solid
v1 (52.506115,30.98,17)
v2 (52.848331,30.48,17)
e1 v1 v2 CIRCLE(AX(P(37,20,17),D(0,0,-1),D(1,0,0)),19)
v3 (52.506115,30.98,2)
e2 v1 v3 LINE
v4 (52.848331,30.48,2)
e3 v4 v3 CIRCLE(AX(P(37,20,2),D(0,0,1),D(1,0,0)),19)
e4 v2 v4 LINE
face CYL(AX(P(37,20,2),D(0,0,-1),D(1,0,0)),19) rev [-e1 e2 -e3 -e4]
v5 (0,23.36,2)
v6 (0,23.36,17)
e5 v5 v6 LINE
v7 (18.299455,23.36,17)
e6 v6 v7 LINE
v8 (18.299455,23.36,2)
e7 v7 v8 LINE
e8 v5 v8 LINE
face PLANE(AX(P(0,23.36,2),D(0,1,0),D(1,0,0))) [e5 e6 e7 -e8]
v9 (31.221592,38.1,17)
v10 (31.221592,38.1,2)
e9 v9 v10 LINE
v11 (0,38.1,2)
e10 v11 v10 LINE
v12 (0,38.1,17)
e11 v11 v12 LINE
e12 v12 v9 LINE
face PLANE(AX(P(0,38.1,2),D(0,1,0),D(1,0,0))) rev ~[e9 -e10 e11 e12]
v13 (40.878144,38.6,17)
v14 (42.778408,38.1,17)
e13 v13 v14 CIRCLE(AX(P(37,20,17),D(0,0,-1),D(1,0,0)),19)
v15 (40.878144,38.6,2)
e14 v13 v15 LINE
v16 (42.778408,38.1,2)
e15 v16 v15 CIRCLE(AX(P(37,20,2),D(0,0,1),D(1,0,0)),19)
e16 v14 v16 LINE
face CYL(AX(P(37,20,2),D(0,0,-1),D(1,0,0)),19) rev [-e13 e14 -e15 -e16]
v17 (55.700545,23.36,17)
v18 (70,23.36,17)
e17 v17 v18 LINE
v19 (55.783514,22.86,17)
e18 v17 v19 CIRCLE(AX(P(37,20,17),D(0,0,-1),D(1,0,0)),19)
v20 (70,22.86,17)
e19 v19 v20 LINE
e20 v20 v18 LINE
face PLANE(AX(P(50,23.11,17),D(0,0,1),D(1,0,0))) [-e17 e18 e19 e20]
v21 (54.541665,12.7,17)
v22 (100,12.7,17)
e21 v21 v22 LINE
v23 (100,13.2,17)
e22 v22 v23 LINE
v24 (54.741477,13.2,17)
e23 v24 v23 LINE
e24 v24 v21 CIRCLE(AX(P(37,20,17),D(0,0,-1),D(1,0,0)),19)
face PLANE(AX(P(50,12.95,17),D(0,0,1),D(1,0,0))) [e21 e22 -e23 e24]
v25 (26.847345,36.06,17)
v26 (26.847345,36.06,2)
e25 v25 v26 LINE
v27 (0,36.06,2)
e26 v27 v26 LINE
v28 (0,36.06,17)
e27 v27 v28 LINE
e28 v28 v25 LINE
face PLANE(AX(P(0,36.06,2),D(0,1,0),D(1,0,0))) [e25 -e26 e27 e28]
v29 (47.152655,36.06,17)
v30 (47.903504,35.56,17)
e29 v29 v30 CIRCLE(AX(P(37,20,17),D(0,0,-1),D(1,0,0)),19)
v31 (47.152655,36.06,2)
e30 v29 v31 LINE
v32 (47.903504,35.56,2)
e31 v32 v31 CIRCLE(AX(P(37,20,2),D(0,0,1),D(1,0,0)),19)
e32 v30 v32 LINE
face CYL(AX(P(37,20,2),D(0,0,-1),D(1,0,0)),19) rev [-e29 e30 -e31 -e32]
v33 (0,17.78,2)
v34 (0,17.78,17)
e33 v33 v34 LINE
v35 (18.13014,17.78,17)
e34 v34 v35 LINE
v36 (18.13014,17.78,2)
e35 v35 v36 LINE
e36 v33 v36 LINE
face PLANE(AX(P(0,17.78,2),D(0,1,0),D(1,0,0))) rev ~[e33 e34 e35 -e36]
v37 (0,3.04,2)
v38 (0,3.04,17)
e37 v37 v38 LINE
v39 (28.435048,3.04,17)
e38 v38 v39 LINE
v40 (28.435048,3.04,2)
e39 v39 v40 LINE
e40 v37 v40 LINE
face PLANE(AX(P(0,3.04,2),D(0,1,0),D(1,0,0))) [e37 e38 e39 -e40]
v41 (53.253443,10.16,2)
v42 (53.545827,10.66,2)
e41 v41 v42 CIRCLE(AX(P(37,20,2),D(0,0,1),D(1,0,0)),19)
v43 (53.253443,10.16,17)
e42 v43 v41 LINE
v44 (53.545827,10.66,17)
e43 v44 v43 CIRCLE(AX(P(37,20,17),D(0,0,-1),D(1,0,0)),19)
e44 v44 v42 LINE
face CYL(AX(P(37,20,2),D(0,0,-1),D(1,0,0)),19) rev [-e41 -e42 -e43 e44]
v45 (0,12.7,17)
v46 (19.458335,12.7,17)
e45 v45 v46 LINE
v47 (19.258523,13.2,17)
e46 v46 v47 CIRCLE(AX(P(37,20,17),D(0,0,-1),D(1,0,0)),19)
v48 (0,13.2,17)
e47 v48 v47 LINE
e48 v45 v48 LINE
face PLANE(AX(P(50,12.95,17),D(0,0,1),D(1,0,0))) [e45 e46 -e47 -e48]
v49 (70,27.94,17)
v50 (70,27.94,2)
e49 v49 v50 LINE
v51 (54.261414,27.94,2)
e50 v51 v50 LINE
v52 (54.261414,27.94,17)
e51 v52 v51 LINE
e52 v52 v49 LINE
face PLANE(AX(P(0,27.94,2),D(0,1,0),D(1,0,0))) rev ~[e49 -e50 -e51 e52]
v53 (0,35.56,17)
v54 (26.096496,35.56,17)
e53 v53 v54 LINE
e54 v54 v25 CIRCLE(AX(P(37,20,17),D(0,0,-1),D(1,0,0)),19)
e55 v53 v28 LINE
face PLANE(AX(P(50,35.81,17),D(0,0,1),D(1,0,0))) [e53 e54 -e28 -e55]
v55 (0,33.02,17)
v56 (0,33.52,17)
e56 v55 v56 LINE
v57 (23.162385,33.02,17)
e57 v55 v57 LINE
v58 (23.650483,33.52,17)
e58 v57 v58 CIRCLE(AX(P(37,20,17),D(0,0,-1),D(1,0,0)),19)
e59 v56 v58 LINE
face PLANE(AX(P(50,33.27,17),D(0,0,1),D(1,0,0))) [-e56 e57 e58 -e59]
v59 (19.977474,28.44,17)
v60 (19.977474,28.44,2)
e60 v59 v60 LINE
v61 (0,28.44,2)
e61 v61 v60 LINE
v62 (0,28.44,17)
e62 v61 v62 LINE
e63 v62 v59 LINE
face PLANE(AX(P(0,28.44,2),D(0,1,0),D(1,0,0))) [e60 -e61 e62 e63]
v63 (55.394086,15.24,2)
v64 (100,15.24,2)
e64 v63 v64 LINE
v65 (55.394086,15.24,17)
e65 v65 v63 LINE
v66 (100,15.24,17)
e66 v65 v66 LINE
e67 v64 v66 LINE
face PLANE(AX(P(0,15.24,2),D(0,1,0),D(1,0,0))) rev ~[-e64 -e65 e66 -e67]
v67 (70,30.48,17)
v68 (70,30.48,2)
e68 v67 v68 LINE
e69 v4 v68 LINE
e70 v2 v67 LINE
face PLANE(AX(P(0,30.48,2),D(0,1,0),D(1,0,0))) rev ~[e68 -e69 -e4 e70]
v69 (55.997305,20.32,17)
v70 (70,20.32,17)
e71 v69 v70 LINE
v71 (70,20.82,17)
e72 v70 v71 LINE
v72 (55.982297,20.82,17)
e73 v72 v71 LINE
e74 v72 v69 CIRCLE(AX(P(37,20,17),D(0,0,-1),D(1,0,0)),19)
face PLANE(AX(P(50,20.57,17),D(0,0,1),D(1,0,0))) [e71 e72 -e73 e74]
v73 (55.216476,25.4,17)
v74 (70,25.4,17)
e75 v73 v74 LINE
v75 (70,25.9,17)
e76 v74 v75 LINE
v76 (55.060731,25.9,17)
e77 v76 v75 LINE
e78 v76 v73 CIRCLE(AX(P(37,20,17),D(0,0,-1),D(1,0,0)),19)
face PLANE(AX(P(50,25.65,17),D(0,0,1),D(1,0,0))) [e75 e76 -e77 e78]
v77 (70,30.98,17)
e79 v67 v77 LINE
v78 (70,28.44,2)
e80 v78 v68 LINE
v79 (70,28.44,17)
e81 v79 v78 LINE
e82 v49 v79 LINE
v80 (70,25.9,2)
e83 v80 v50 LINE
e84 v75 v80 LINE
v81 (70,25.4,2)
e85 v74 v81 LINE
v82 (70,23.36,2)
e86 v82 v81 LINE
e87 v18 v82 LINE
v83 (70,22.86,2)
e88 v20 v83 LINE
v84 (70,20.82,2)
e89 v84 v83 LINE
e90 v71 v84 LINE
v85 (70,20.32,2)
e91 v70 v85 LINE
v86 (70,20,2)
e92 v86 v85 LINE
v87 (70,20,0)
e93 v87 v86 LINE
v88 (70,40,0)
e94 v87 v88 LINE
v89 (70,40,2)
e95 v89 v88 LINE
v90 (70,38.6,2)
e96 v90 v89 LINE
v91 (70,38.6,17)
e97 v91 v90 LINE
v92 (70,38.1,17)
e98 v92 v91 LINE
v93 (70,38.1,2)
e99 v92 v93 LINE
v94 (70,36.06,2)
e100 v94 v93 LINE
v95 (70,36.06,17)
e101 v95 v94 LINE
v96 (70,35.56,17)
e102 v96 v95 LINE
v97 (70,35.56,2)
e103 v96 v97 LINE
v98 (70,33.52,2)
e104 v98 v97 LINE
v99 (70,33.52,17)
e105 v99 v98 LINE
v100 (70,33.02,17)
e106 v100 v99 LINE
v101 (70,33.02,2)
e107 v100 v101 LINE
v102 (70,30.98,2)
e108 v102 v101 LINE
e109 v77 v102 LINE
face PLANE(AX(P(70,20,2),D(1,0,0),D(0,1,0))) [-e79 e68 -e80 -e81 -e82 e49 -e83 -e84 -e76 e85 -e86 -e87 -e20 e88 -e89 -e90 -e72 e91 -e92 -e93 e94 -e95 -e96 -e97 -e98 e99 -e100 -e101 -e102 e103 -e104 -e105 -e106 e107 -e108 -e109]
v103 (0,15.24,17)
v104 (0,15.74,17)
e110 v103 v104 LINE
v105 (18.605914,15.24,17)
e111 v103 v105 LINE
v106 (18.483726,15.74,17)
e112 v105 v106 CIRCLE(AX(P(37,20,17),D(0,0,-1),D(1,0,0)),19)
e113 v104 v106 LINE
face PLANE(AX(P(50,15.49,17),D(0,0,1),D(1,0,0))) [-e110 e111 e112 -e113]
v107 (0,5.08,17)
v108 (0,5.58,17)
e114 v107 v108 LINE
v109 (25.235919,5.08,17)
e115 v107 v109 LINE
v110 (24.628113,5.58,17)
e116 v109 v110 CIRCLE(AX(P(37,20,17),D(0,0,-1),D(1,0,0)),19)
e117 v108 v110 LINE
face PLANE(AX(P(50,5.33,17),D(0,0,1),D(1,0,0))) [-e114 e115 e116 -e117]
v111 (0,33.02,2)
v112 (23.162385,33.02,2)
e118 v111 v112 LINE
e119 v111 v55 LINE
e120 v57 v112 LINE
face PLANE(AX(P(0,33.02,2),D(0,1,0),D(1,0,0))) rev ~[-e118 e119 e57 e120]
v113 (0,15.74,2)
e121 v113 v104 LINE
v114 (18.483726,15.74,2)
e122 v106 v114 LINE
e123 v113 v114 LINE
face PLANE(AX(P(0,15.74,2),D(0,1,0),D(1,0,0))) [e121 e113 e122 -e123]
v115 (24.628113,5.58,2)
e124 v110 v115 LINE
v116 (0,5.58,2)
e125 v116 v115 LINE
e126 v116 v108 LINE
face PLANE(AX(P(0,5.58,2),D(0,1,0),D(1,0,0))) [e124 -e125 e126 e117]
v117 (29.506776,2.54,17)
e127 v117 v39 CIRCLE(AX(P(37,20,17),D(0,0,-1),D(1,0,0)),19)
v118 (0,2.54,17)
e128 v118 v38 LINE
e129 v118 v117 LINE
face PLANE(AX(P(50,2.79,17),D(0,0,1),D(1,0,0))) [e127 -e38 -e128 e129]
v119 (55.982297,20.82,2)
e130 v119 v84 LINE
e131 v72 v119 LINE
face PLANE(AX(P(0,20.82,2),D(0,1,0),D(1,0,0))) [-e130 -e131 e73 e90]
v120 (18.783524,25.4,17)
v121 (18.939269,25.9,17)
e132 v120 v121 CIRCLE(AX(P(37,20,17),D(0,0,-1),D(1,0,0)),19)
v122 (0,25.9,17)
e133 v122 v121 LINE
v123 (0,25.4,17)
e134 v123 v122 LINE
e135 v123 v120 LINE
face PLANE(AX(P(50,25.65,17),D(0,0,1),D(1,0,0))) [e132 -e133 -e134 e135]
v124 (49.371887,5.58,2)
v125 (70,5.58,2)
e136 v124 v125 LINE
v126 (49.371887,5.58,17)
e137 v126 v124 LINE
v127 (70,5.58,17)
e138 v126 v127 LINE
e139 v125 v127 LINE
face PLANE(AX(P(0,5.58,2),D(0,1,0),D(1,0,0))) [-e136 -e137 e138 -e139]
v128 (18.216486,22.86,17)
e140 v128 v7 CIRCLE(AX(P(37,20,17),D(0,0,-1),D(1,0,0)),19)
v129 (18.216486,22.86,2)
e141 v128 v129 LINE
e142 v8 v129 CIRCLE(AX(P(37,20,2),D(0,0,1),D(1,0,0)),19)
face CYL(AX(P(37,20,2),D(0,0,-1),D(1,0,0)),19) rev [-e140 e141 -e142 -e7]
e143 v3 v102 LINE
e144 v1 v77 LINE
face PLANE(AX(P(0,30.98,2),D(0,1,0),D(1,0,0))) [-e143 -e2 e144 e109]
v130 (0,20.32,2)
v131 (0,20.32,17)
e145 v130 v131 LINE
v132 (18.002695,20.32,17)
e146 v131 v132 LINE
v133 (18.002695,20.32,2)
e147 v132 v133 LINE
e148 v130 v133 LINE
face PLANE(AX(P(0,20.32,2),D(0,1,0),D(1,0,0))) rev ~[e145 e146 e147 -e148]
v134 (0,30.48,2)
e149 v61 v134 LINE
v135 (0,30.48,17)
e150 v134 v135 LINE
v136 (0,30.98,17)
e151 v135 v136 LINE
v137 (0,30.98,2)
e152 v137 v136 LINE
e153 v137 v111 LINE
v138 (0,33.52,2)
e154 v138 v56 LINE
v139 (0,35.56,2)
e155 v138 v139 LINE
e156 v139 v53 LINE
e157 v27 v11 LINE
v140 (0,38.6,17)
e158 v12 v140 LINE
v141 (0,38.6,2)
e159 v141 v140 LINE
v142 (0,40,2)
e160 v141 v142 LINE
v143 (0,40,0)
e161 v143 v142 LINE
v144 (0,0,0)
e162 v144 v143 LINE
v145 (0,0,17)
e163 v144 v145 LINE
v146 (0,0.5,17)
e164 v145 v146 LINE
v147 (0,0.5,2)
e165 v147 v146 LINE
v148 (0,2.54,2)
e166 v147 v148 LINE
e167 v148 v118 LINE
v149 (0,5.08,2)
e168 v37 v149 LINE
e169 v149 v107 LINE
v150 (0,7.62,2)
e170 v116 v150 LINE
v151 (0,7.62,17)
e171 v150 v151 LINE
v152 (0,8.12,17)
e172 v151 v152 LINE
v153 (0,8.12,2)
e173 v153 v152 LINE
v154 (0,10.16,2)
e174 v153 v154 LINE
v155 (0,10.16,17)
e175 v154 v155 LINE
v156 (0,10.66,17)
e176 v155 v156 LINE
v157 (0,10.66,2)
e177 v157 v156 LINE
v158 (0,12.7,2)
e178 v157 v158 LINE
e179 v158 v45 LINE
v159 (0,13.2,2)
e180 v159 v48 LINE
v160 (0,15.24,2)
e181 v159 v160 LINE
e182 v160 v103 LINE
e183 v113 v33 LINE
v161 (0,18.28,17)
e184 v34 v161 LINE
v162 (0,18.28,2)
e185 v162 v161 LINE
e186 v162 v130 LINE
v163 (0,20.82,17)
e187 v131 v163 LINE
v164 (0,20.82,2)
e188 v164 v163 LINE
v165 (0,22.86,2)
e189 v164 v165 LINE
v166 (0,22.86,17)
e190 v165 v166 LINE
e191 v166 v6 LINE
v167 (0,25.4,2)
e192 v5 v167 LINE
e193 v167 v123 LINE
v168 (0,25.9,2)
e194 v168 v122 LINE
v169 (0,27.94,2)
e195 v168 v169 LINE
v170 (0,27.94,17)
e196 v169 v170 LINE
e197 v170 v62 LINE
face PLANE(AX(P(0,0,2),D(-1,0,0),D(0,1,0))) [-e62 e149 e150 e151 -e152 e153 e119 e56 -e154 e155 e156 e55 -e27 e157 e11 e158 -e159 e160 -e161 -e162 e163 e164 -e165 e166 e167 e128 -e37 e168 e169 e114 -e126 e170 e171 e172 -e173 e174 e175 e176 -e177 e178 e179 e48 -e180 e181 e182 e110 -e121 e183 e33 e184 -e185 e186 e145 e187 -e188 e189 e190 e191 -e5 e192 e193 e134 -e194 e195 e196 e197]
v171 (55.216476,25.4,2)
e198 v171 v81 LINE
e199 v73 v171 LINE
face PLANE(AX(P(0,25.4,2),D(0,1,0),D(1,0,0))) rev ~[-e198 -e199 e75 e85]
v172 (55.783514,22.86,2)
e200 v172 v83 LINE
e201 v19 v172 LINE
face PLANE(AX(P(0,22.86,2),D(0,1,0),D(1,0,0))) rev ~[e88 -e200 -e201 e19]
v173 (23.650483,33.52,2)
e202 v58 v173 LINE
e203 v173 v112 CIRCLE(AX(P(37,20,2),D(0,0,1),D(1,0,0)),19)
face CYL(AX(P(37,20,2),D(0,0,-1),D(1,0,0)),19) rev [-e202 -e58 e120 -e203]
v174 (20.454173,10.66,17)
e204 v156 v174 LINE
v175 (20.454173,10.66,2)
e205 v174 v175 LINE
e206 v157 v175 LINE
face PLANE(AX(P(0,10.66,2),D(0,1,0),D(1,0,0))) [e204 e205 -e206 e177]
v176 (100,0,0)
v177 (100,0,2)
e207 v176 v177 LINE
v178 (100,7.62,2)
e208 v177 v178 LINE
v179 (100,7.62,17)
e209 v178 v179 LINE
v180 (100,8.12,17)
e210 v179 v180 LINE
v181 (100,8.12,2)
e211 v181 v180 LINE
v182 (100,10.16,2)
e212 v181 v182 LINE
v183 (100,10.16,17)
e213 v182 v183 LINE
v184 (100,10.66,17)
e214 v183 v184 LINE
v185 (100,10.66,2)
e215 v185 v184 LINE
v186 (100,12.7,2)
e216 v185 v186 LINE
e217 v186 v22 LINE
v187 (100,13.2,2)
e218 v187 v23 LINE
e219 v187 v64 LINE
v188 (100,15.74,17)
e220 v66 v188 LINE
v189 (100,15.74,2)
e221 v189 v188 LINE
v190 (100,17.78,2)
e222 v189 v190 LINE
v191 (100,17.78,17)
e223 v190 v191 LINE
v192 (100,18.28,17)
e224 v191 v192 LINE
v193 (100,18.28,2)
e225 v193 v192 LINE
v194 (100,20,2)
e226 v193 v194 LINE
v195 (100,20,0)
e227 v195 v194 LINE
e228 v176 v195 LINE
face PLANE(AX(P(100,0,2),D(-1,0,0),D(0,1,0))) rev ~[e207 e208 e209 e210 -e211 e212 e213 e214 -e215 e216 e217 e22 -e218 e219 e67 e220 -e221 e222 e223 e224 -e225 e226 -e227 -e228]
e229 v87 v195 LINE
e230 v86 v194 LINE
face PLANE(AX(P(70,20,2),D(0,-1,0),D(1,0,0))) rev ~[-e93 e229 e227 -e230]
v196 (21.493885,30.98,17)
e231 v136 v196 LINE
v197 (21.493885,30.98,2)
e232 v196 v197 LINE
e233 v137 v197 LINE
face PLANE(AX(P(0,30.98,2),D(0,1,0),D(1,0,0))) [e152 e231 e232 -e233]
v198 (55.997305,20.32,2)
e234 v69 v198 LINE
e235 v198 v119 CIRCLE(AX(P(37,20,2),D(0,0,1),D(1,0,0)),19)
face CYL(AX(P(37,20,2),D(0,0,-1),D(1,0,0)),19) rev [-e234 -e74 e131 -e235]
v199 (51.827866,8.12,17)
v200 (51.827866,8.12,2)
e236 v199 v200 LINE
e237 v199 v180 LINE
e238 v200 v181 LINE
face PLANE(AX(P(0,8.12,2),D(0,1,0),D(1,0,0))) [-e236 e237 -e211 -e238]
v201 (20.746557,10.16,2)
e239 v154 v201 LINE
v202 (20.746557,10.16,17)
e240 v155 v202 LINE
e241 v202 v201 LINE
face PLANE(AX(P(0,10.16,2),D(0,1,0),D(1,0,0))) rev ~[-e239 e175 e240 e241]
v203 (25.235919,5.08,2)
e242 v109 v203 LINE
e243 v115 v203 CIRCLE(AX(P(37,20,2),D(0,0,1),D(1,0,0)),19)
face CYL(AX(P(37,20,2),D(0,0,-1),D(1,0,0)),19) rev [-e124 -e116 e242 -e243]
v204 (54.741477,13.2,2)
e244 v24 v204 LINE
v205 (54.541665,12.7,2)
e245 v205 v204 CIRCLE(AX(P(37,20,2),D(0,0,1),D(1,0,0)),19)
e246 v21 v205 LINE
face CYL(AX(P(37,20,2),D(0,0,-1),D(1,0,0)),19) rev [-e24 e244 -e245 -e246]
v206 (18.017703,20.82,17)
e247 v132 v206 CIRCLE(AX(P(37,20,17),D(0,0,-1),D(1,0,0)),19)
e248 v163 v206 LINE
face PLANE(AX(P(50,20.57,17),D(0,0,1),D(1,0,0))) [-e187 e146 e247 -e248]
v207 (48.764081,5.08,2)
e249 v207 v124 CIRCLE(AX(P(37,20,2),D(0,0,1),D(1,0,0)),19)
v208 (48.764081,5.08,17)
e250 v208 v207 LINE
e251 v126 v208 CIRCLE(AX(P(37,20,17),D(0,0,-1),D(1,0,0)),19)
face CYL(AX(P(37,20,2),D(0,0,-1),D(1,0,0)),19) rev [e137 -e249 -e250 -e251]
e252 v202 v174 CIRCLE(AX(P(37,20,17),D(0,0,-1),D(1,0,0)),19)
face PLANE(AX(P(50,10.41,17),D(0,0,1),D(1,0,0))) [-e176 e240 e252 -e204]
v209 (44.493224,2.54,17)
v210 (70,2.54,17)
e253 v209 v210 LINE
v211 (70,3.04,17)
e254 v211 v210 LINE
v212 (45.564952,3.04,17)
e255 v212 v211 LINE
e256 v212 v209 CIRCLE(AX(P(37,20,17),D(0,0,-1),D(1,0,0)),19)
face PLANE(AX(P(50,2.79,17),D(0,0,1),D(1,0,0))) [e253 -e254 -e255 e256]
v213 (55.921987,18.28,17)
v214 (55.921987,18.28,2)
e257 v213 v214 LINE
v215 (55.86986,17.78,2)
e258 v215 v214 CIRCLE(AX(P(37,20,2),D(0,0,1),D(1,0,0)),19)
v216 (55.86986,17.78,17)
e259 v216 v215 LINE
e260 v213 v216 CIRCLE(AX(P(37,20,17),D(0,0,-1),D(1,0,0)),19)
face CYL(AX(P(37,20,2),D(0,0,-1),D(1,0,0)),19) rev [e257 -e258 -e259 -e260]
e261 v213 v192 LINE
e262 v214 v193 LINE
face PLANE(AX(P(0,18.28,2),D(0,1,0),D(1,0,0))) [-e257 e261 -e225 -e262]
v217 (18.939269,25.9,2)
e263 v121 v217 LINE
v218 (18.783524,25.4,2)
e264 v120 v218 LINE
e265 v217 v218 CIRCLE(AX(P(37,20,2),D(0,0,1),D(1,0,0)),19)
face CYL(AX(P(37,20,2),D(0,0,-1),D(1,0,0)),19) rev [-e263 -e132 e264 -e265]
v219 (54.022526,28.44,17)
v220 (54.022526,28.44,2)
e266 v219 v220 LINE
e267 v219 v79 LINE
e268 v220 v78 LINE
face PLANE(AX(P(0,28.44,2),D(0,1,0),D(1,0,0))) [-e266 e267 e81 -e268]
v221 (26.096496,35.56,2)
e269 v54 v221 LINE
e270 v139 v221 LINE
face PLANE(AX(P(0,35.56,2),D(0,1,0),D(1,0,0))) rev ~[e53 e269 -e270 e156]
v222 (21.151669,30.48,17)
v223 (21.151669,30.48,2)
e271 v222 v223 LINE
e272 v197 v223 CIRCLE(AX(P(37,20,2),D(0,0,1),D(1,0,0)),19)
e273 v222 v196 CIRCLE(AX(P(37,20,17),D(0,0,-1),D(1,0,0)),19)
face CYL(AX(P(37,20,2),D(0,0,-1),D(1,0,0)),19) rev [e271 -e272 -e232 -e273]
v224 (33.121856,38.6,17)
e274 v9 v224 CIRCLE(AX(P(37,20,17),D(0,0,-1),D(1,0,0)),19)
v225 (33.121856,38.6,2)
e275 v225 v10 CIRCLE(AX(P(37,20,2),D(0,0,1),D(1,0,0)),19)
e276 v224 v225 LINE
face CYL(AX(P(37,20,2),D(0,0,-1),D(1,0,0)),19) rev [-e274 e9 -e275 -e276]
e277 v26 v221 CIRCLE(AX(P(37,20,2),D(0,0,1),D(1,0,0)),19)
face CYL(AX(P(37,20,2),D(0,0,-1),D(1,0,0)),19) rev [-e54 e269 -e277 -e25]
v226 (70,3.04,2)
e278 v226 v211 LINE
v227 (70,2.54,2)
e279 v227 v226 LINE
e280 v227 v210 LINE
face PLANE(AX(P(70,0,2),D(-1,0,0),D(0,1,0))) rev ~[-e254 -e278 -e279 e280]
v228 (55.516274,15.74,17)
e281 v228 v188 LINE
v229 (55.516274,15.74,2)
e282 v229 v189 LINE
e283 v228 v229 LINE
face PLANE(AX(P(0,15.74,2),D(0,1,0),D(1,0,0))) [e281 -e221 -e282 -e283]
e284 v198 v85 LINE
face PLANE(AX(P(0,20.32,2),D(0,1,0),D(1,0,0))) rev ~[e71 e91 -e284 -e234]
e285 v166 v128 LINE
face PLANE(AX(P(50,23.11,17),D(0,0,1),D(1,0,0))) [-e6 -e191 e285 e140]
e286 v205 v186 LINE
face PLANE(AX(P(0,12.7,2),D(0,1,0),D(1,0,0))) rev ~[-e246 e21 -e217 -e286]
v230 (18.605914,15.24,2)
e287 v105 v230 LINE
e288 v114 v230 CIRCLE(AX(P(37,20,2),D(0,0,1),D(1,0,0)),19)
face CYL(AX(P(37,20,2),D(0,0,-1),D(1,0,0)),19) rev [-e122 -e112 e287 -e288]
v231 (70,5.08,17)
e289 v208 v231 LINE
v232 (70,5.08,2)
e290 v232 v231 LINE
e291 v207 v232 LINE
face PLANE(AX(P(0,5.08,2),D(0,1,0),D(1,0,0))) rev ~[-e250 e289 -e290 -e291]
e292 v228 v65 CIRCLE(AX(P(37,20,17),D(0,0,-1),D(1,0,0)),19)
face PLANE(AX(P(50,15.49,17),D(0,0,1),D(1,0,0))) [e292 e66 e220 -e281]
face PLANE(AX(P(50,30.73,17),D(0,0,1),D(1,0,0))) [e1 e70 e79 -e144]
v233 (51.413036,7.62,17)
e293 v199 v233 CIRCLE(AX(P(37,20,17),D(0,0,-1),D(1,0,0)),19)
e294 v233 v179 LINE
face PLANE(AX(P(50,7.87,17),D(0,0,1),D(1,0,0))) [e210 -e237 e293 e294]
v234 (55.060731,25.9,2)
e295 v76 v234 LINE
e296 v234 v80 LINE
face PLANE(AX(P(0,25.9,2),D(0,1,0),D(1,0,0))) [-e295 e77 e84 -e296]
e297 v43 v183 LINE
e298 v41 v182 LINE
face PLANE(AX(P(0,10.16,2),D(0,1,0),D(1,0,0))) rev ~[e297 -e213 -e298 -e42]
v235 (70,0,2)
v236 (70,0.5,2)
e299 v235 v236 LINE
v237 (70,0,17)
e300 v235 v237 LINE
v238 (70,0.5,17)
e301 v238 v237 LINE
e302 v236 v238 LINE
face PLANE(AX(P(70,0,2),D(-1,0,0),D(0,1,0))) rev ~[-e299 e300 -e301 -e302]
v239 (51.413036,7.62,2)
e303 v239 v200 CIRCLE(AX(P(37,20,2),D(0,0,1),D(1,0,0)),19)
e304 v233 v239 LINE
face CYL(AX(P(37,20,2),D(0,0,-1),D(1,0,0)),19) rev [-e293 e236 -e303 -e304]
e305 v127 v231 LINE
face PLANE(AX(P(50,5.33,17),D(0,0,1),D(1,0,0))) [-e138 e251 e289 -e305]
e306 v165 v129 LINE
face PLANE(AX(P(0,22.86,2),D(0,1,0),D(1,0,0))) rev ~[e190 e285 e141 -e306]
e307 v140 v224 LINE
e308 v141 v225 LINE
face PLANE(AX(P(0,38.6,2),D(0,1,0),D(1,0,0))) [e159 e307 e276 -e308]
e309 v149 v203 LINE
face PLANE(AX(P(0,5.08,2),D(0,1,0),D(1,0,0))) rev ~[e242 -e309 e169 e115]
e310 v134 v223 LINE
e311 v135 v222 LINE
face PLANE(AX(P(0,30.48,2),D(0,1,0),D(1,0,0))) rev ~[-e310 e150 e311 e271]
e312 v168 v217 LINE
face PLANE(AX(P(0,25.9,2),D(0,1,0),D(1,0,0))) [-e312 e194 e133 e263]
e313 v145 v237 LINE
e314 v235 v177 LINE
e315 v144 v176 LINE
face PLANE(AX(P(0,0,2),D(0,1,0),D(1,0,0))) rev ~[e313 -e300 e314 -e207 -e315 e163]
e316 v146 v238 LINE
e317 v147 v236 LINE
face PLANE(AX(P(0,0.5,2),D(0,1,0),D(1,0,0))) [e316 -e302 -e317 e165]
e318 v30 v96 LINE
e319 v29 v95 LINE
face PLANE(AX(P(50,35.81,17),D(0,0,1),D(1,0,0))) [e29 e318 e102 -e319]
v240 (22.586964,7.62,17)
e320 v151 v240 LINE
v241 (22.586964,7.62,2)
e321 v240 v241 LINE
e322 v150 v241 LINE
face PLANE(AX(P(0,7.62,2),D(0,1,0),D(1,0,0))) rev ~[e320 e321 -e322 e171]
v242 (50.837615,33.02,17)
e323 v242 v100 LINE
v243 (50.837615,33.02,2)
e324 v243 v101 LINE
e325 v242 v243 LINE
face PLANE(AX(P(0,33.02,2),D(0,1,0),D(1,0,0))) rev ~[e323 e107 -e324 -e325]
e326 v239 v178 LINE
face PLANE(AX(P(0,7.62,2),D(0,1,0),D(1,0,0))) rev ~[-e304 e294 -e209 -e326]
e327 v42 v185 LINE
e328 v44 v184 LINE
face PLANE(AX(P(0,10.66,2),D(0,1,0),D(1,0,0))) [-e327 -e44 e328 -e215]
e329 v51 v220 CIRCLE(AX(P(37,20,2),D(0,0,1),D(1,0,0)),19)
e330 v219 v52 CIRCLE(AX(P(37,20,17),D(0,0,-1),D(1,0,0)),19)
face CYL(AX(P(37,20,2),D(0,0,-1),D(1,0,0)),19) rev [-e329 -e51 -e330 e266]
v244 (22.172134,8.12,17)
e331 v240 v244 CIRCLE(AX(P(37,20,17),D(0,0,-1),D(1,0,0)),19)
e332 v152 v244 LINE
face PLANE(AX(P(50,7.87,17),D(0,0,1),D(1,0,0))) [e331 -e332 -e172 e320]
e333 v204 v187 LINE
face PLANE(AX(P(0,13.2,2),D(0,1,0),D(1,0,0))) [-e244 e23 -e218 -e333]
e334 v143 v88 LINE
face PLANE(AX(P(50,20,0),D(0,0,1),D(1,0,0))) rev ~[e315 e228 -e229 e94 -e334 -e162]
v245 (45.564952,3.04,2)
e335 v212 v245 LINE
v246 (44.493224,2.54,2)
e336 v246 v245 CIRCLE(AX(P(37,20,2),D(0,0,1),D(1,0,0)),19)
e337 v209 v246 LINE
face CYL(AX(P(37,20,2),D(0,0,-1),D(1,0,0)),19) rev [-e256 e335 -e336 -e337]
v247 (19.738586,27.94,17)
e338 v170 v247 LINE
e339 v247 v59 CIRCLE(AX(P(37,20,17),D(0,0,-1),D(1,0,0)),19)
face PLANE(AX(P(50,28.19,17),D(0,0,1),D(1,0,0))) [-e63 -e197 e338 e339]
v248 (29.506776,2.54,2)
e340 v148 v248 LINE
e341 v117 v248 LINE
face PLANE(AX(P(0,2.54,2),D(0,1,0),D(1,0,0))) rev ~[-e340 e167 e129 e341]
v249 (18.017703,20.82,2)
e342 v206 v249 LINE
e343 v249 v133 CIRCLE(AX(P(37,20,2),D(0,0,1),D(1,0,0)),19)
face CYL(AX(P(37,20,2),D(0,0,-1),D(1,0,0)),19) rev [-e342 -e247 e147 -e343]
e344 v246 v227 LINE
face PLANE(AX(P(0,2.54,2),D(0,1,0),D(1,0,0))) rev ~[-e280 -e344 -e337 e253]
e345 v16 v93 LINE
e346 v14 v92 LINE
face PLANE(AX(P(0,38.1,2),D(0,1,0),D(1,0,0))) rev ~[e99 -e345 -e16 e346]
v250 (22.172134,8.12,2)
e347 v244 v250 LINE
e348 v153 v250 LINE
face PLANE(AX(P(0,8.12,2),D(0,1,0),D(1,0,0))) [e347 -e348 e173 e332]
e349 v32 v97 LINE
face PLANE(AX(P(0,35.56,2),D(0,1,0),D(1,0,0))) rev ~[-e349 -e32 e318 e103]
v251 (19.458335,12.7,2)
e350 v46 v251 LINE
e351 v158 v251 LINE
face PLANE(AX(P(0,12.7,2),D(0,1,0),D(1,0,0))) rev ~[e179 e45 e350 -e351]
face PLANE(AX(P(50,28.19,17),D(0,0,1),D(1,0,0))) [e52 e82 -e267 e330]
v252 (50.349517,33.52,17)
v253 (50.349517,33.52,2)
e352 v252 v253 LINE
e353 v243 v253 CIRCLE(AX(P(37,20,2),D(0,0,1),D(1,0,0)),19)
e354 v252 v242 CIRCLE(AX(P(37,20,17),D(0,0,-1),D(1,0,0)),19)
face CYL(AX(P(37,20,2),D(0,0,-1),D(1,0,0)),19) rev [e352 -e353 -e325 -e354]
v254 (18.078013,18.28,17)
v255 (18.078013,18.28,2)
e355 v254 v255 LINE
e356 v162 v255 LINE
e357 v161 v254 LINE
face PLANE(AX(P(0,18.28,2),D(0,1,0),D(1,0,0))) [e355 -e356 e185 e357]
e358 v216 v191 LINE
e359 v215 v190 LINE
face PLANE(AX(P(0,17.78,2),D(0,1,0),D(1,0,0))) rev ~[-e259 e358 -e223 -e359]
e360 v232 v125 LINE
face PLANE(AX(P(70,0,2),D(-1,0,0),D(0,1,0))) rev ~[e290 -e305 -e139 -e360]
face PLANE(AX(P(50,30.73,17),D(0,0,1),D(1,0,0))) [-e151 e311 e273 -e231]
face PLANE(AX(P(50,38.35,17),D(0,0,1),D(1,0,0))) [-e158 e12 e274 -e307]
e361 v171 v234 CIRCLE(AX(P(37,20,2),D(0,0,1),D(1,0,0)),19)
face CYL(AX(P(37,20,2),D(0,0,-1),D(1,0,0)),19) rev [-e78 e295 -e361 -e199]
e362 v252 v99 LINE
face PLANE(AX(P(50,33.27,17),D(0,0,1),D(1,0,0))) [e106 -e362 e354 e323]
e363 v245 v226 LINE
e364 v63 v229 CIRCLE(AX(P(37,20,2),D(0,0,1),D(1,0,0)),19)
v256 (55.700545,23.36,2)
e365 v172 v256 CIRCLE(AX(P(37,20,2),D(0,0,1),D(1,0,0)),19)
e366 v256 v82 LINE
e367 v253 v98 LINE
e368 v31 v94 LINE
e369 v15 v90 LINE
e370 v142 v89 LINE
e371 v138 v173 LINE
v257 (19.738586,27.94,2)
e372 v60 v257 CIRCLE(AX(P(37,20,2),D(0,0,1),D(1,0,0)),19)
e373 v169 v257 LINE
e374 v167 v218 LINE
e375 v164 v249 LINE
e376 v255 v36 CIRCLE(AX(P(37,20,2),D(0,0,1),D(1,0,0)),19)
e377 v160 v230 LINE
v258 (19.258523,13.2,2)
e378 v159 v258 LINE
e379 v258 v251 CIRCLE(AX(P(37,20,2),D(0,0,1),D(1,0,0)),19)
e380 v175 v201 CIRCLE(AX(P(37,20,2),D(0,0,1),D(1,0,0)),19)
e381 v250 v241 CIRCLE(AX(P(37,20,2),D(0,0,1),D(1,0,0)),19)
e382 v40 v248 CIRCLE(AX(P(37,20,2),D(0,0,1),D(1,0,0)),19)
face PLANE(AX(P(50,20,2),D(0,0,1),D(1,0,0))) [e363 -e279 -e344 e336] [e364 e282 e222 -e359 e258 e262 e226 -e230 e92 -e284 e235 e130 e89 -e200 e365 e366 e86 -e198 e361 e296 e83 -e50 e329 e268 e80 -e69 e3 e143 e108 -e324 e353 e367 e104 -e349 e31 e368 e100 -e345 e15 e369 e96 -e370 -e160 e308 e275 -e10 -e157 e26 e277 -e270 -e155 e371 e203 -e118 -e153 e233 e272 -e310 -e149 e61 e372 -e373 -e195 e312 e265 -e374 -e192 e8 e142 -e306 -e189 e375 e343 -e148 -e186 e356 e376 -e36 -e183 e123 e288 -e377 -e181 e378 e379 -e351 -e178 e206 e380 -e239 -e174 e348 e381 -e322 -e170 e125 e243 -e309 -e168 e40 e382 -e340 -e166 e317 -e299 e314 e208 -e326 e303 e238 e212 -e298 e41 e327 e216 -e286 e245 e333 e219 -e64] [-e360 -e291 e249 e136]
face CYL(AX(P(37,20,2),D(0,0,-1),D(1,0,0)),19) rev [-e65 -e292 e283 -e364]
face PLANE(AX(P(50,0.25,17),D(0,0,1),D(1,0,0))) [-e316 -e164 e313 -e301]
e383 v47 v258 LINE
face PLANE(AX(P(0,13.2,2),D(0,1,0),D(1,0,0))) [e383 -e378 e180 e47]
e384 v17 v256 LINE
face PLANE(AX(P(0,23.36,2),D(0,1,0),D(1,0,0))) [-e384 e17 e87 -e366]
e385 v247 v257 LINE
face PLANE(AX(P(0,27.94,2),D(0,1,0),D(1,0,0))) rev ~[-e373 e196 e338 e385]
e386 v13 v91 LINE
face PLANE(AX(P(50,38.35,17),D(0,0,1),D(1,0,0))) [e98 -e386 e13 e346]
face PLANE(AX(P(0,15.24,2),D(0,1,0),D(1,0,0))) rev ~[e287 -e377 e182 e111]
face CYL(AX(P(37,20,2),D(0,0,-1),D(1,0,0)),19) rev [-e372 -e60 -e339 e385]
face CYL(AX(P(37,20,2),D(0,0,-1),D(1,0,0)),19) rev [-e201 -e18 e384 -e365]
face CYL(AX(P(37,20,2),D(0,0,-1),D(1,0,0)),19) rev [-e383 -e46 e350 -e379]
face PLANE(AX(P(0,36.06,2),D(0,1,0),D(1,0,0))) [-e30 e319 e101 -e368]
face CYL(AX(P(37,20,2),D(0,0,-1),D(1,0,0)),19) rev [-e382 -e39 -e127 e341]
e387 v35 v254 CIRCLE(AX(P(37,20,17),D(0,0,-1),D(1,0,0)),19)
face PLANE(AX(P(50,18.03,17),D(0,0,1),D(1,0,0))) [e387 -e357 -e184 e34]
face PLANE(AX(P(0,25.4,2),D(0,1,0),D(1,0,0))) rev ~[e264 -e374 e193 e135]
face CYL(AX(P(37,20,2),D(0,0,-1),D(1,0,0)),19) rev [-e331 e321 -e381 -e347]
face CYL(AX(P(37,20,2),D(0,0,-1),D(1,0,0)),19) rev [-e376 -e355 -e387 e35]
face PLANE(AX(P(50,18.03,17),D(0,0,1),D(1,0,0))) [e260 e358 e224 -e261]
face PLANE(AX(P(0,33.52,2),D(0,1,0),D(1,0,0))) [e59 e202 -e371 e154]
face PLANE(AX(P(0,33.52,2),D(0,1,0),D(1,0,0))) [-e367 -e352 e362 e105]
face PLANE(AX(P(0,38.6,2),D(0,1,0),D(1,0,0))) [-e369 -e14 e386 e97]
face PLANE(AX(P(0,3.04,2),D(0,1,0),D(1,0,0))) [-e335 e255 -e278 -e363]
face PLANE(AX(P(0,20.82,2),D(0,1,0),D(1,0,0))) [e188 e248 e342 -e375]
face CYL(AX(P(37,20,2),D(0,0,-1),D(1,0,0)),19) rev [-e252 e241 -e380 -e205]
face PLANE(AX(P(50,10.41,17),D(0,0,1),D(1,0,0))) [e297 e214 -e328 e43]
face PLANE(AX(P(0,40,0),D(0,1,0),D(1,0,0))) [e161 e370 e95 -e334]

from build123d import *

# Parameters (mm, degrees)
MAIN_SKETCH_W              = 100
MAIN_SKETCH_H              = 40
MAIN_DEPTH                 = 2
ESQUISSE2_W                = 100
ESQUISSE2_H                = 0.5
BOSS_EXTRU_2_DEPTH         = 15
R_P_TITION_LIN_AIRE2_COUNT = 16
R_P_TITION_LIN_AIRE2_PITCH = 2.54
ESQUISSE3_W                = 30
ESQUISSE3_H                = 7.5
ENL_V_MAT_EXTRU_1_DEPTH    = 16
ESQUISSE4_W                = 30
ESQUISSE4_H                = 20
ENL_V_MAT_EXTRU_2_DEPTH    = 25
ESQUISSE5_R                = 19
ENL_V_MAT_EXTRU_3_DEPTH    = 16


with BuildPart() as part:
    # Main-Sketch → Main (new body)
    with BuildSketch(Plane.XY):
        with Locations((50, 20)):
            Rectangle(MAIN_SKETCH_W, MAIN_SKETCH_H)
    extrude(amount=MAIN_DEPTH)

    # Esquisse2 → Boss.-Extru.2 (add)
    with BuildSketch(Plane.XY.offset(2)):
        with Locations((50, 0.25)):
            Rectangle(ESQUISSE2_W, ESQUISSE2_H)
    boss_extru_2 = extrude(amount=BOSS_EXTRU_2_DEPTH)

    # Répétition linéaire2: Boss.-Extru.2 ×16
    with Locations(*[(0, i * R_P_TITION_LIN_AIRE2_PITCH, 0) for i in range(1, R_P_TITION_LIN_AIRE2_COUNT)]):
        add(boss_extru_2)

    # Esquisse3 → Enlèv. mat.-Extru.1 (cut, through all)
    with BuildSketch(Plane.XY.offset(2)):
        with Locations((85, 3.75)):
            Rectangle(ESQUISSE3_W, ESQUISSE3_H)
    extrude(amount=ENL_V_MAT_EXTRU_1_DEPTH, mode=Mode.SUBTRACT)

    # Esquisse4 → Enlèv. mat.-Extru.2 (cut, symmetric)
    with BuildSketch(Plane.XY.offset(2)):
        with Locations((85, 30)):
            Rectangle(ESQUISSE4_W, ESQUISSE4_H)
    extrude(amount=ENL_V_MAT_EXTRU_2_DEPTH, both=True, mode=Mode.SUBTRACT)

    # Esquisse5 → Enlèv. mat.-Extru.3 (cut, through all)
    with BuildSketch(Plane.XY.offset(2)):
        with Locations((37, 20)):
            Circle(ESQUISSE5_R)
    extrude(amount=ENL_V_MAT_EXTRU_3_DEPTH, mode=Mode.SUBTRACT)


solid = part.part
